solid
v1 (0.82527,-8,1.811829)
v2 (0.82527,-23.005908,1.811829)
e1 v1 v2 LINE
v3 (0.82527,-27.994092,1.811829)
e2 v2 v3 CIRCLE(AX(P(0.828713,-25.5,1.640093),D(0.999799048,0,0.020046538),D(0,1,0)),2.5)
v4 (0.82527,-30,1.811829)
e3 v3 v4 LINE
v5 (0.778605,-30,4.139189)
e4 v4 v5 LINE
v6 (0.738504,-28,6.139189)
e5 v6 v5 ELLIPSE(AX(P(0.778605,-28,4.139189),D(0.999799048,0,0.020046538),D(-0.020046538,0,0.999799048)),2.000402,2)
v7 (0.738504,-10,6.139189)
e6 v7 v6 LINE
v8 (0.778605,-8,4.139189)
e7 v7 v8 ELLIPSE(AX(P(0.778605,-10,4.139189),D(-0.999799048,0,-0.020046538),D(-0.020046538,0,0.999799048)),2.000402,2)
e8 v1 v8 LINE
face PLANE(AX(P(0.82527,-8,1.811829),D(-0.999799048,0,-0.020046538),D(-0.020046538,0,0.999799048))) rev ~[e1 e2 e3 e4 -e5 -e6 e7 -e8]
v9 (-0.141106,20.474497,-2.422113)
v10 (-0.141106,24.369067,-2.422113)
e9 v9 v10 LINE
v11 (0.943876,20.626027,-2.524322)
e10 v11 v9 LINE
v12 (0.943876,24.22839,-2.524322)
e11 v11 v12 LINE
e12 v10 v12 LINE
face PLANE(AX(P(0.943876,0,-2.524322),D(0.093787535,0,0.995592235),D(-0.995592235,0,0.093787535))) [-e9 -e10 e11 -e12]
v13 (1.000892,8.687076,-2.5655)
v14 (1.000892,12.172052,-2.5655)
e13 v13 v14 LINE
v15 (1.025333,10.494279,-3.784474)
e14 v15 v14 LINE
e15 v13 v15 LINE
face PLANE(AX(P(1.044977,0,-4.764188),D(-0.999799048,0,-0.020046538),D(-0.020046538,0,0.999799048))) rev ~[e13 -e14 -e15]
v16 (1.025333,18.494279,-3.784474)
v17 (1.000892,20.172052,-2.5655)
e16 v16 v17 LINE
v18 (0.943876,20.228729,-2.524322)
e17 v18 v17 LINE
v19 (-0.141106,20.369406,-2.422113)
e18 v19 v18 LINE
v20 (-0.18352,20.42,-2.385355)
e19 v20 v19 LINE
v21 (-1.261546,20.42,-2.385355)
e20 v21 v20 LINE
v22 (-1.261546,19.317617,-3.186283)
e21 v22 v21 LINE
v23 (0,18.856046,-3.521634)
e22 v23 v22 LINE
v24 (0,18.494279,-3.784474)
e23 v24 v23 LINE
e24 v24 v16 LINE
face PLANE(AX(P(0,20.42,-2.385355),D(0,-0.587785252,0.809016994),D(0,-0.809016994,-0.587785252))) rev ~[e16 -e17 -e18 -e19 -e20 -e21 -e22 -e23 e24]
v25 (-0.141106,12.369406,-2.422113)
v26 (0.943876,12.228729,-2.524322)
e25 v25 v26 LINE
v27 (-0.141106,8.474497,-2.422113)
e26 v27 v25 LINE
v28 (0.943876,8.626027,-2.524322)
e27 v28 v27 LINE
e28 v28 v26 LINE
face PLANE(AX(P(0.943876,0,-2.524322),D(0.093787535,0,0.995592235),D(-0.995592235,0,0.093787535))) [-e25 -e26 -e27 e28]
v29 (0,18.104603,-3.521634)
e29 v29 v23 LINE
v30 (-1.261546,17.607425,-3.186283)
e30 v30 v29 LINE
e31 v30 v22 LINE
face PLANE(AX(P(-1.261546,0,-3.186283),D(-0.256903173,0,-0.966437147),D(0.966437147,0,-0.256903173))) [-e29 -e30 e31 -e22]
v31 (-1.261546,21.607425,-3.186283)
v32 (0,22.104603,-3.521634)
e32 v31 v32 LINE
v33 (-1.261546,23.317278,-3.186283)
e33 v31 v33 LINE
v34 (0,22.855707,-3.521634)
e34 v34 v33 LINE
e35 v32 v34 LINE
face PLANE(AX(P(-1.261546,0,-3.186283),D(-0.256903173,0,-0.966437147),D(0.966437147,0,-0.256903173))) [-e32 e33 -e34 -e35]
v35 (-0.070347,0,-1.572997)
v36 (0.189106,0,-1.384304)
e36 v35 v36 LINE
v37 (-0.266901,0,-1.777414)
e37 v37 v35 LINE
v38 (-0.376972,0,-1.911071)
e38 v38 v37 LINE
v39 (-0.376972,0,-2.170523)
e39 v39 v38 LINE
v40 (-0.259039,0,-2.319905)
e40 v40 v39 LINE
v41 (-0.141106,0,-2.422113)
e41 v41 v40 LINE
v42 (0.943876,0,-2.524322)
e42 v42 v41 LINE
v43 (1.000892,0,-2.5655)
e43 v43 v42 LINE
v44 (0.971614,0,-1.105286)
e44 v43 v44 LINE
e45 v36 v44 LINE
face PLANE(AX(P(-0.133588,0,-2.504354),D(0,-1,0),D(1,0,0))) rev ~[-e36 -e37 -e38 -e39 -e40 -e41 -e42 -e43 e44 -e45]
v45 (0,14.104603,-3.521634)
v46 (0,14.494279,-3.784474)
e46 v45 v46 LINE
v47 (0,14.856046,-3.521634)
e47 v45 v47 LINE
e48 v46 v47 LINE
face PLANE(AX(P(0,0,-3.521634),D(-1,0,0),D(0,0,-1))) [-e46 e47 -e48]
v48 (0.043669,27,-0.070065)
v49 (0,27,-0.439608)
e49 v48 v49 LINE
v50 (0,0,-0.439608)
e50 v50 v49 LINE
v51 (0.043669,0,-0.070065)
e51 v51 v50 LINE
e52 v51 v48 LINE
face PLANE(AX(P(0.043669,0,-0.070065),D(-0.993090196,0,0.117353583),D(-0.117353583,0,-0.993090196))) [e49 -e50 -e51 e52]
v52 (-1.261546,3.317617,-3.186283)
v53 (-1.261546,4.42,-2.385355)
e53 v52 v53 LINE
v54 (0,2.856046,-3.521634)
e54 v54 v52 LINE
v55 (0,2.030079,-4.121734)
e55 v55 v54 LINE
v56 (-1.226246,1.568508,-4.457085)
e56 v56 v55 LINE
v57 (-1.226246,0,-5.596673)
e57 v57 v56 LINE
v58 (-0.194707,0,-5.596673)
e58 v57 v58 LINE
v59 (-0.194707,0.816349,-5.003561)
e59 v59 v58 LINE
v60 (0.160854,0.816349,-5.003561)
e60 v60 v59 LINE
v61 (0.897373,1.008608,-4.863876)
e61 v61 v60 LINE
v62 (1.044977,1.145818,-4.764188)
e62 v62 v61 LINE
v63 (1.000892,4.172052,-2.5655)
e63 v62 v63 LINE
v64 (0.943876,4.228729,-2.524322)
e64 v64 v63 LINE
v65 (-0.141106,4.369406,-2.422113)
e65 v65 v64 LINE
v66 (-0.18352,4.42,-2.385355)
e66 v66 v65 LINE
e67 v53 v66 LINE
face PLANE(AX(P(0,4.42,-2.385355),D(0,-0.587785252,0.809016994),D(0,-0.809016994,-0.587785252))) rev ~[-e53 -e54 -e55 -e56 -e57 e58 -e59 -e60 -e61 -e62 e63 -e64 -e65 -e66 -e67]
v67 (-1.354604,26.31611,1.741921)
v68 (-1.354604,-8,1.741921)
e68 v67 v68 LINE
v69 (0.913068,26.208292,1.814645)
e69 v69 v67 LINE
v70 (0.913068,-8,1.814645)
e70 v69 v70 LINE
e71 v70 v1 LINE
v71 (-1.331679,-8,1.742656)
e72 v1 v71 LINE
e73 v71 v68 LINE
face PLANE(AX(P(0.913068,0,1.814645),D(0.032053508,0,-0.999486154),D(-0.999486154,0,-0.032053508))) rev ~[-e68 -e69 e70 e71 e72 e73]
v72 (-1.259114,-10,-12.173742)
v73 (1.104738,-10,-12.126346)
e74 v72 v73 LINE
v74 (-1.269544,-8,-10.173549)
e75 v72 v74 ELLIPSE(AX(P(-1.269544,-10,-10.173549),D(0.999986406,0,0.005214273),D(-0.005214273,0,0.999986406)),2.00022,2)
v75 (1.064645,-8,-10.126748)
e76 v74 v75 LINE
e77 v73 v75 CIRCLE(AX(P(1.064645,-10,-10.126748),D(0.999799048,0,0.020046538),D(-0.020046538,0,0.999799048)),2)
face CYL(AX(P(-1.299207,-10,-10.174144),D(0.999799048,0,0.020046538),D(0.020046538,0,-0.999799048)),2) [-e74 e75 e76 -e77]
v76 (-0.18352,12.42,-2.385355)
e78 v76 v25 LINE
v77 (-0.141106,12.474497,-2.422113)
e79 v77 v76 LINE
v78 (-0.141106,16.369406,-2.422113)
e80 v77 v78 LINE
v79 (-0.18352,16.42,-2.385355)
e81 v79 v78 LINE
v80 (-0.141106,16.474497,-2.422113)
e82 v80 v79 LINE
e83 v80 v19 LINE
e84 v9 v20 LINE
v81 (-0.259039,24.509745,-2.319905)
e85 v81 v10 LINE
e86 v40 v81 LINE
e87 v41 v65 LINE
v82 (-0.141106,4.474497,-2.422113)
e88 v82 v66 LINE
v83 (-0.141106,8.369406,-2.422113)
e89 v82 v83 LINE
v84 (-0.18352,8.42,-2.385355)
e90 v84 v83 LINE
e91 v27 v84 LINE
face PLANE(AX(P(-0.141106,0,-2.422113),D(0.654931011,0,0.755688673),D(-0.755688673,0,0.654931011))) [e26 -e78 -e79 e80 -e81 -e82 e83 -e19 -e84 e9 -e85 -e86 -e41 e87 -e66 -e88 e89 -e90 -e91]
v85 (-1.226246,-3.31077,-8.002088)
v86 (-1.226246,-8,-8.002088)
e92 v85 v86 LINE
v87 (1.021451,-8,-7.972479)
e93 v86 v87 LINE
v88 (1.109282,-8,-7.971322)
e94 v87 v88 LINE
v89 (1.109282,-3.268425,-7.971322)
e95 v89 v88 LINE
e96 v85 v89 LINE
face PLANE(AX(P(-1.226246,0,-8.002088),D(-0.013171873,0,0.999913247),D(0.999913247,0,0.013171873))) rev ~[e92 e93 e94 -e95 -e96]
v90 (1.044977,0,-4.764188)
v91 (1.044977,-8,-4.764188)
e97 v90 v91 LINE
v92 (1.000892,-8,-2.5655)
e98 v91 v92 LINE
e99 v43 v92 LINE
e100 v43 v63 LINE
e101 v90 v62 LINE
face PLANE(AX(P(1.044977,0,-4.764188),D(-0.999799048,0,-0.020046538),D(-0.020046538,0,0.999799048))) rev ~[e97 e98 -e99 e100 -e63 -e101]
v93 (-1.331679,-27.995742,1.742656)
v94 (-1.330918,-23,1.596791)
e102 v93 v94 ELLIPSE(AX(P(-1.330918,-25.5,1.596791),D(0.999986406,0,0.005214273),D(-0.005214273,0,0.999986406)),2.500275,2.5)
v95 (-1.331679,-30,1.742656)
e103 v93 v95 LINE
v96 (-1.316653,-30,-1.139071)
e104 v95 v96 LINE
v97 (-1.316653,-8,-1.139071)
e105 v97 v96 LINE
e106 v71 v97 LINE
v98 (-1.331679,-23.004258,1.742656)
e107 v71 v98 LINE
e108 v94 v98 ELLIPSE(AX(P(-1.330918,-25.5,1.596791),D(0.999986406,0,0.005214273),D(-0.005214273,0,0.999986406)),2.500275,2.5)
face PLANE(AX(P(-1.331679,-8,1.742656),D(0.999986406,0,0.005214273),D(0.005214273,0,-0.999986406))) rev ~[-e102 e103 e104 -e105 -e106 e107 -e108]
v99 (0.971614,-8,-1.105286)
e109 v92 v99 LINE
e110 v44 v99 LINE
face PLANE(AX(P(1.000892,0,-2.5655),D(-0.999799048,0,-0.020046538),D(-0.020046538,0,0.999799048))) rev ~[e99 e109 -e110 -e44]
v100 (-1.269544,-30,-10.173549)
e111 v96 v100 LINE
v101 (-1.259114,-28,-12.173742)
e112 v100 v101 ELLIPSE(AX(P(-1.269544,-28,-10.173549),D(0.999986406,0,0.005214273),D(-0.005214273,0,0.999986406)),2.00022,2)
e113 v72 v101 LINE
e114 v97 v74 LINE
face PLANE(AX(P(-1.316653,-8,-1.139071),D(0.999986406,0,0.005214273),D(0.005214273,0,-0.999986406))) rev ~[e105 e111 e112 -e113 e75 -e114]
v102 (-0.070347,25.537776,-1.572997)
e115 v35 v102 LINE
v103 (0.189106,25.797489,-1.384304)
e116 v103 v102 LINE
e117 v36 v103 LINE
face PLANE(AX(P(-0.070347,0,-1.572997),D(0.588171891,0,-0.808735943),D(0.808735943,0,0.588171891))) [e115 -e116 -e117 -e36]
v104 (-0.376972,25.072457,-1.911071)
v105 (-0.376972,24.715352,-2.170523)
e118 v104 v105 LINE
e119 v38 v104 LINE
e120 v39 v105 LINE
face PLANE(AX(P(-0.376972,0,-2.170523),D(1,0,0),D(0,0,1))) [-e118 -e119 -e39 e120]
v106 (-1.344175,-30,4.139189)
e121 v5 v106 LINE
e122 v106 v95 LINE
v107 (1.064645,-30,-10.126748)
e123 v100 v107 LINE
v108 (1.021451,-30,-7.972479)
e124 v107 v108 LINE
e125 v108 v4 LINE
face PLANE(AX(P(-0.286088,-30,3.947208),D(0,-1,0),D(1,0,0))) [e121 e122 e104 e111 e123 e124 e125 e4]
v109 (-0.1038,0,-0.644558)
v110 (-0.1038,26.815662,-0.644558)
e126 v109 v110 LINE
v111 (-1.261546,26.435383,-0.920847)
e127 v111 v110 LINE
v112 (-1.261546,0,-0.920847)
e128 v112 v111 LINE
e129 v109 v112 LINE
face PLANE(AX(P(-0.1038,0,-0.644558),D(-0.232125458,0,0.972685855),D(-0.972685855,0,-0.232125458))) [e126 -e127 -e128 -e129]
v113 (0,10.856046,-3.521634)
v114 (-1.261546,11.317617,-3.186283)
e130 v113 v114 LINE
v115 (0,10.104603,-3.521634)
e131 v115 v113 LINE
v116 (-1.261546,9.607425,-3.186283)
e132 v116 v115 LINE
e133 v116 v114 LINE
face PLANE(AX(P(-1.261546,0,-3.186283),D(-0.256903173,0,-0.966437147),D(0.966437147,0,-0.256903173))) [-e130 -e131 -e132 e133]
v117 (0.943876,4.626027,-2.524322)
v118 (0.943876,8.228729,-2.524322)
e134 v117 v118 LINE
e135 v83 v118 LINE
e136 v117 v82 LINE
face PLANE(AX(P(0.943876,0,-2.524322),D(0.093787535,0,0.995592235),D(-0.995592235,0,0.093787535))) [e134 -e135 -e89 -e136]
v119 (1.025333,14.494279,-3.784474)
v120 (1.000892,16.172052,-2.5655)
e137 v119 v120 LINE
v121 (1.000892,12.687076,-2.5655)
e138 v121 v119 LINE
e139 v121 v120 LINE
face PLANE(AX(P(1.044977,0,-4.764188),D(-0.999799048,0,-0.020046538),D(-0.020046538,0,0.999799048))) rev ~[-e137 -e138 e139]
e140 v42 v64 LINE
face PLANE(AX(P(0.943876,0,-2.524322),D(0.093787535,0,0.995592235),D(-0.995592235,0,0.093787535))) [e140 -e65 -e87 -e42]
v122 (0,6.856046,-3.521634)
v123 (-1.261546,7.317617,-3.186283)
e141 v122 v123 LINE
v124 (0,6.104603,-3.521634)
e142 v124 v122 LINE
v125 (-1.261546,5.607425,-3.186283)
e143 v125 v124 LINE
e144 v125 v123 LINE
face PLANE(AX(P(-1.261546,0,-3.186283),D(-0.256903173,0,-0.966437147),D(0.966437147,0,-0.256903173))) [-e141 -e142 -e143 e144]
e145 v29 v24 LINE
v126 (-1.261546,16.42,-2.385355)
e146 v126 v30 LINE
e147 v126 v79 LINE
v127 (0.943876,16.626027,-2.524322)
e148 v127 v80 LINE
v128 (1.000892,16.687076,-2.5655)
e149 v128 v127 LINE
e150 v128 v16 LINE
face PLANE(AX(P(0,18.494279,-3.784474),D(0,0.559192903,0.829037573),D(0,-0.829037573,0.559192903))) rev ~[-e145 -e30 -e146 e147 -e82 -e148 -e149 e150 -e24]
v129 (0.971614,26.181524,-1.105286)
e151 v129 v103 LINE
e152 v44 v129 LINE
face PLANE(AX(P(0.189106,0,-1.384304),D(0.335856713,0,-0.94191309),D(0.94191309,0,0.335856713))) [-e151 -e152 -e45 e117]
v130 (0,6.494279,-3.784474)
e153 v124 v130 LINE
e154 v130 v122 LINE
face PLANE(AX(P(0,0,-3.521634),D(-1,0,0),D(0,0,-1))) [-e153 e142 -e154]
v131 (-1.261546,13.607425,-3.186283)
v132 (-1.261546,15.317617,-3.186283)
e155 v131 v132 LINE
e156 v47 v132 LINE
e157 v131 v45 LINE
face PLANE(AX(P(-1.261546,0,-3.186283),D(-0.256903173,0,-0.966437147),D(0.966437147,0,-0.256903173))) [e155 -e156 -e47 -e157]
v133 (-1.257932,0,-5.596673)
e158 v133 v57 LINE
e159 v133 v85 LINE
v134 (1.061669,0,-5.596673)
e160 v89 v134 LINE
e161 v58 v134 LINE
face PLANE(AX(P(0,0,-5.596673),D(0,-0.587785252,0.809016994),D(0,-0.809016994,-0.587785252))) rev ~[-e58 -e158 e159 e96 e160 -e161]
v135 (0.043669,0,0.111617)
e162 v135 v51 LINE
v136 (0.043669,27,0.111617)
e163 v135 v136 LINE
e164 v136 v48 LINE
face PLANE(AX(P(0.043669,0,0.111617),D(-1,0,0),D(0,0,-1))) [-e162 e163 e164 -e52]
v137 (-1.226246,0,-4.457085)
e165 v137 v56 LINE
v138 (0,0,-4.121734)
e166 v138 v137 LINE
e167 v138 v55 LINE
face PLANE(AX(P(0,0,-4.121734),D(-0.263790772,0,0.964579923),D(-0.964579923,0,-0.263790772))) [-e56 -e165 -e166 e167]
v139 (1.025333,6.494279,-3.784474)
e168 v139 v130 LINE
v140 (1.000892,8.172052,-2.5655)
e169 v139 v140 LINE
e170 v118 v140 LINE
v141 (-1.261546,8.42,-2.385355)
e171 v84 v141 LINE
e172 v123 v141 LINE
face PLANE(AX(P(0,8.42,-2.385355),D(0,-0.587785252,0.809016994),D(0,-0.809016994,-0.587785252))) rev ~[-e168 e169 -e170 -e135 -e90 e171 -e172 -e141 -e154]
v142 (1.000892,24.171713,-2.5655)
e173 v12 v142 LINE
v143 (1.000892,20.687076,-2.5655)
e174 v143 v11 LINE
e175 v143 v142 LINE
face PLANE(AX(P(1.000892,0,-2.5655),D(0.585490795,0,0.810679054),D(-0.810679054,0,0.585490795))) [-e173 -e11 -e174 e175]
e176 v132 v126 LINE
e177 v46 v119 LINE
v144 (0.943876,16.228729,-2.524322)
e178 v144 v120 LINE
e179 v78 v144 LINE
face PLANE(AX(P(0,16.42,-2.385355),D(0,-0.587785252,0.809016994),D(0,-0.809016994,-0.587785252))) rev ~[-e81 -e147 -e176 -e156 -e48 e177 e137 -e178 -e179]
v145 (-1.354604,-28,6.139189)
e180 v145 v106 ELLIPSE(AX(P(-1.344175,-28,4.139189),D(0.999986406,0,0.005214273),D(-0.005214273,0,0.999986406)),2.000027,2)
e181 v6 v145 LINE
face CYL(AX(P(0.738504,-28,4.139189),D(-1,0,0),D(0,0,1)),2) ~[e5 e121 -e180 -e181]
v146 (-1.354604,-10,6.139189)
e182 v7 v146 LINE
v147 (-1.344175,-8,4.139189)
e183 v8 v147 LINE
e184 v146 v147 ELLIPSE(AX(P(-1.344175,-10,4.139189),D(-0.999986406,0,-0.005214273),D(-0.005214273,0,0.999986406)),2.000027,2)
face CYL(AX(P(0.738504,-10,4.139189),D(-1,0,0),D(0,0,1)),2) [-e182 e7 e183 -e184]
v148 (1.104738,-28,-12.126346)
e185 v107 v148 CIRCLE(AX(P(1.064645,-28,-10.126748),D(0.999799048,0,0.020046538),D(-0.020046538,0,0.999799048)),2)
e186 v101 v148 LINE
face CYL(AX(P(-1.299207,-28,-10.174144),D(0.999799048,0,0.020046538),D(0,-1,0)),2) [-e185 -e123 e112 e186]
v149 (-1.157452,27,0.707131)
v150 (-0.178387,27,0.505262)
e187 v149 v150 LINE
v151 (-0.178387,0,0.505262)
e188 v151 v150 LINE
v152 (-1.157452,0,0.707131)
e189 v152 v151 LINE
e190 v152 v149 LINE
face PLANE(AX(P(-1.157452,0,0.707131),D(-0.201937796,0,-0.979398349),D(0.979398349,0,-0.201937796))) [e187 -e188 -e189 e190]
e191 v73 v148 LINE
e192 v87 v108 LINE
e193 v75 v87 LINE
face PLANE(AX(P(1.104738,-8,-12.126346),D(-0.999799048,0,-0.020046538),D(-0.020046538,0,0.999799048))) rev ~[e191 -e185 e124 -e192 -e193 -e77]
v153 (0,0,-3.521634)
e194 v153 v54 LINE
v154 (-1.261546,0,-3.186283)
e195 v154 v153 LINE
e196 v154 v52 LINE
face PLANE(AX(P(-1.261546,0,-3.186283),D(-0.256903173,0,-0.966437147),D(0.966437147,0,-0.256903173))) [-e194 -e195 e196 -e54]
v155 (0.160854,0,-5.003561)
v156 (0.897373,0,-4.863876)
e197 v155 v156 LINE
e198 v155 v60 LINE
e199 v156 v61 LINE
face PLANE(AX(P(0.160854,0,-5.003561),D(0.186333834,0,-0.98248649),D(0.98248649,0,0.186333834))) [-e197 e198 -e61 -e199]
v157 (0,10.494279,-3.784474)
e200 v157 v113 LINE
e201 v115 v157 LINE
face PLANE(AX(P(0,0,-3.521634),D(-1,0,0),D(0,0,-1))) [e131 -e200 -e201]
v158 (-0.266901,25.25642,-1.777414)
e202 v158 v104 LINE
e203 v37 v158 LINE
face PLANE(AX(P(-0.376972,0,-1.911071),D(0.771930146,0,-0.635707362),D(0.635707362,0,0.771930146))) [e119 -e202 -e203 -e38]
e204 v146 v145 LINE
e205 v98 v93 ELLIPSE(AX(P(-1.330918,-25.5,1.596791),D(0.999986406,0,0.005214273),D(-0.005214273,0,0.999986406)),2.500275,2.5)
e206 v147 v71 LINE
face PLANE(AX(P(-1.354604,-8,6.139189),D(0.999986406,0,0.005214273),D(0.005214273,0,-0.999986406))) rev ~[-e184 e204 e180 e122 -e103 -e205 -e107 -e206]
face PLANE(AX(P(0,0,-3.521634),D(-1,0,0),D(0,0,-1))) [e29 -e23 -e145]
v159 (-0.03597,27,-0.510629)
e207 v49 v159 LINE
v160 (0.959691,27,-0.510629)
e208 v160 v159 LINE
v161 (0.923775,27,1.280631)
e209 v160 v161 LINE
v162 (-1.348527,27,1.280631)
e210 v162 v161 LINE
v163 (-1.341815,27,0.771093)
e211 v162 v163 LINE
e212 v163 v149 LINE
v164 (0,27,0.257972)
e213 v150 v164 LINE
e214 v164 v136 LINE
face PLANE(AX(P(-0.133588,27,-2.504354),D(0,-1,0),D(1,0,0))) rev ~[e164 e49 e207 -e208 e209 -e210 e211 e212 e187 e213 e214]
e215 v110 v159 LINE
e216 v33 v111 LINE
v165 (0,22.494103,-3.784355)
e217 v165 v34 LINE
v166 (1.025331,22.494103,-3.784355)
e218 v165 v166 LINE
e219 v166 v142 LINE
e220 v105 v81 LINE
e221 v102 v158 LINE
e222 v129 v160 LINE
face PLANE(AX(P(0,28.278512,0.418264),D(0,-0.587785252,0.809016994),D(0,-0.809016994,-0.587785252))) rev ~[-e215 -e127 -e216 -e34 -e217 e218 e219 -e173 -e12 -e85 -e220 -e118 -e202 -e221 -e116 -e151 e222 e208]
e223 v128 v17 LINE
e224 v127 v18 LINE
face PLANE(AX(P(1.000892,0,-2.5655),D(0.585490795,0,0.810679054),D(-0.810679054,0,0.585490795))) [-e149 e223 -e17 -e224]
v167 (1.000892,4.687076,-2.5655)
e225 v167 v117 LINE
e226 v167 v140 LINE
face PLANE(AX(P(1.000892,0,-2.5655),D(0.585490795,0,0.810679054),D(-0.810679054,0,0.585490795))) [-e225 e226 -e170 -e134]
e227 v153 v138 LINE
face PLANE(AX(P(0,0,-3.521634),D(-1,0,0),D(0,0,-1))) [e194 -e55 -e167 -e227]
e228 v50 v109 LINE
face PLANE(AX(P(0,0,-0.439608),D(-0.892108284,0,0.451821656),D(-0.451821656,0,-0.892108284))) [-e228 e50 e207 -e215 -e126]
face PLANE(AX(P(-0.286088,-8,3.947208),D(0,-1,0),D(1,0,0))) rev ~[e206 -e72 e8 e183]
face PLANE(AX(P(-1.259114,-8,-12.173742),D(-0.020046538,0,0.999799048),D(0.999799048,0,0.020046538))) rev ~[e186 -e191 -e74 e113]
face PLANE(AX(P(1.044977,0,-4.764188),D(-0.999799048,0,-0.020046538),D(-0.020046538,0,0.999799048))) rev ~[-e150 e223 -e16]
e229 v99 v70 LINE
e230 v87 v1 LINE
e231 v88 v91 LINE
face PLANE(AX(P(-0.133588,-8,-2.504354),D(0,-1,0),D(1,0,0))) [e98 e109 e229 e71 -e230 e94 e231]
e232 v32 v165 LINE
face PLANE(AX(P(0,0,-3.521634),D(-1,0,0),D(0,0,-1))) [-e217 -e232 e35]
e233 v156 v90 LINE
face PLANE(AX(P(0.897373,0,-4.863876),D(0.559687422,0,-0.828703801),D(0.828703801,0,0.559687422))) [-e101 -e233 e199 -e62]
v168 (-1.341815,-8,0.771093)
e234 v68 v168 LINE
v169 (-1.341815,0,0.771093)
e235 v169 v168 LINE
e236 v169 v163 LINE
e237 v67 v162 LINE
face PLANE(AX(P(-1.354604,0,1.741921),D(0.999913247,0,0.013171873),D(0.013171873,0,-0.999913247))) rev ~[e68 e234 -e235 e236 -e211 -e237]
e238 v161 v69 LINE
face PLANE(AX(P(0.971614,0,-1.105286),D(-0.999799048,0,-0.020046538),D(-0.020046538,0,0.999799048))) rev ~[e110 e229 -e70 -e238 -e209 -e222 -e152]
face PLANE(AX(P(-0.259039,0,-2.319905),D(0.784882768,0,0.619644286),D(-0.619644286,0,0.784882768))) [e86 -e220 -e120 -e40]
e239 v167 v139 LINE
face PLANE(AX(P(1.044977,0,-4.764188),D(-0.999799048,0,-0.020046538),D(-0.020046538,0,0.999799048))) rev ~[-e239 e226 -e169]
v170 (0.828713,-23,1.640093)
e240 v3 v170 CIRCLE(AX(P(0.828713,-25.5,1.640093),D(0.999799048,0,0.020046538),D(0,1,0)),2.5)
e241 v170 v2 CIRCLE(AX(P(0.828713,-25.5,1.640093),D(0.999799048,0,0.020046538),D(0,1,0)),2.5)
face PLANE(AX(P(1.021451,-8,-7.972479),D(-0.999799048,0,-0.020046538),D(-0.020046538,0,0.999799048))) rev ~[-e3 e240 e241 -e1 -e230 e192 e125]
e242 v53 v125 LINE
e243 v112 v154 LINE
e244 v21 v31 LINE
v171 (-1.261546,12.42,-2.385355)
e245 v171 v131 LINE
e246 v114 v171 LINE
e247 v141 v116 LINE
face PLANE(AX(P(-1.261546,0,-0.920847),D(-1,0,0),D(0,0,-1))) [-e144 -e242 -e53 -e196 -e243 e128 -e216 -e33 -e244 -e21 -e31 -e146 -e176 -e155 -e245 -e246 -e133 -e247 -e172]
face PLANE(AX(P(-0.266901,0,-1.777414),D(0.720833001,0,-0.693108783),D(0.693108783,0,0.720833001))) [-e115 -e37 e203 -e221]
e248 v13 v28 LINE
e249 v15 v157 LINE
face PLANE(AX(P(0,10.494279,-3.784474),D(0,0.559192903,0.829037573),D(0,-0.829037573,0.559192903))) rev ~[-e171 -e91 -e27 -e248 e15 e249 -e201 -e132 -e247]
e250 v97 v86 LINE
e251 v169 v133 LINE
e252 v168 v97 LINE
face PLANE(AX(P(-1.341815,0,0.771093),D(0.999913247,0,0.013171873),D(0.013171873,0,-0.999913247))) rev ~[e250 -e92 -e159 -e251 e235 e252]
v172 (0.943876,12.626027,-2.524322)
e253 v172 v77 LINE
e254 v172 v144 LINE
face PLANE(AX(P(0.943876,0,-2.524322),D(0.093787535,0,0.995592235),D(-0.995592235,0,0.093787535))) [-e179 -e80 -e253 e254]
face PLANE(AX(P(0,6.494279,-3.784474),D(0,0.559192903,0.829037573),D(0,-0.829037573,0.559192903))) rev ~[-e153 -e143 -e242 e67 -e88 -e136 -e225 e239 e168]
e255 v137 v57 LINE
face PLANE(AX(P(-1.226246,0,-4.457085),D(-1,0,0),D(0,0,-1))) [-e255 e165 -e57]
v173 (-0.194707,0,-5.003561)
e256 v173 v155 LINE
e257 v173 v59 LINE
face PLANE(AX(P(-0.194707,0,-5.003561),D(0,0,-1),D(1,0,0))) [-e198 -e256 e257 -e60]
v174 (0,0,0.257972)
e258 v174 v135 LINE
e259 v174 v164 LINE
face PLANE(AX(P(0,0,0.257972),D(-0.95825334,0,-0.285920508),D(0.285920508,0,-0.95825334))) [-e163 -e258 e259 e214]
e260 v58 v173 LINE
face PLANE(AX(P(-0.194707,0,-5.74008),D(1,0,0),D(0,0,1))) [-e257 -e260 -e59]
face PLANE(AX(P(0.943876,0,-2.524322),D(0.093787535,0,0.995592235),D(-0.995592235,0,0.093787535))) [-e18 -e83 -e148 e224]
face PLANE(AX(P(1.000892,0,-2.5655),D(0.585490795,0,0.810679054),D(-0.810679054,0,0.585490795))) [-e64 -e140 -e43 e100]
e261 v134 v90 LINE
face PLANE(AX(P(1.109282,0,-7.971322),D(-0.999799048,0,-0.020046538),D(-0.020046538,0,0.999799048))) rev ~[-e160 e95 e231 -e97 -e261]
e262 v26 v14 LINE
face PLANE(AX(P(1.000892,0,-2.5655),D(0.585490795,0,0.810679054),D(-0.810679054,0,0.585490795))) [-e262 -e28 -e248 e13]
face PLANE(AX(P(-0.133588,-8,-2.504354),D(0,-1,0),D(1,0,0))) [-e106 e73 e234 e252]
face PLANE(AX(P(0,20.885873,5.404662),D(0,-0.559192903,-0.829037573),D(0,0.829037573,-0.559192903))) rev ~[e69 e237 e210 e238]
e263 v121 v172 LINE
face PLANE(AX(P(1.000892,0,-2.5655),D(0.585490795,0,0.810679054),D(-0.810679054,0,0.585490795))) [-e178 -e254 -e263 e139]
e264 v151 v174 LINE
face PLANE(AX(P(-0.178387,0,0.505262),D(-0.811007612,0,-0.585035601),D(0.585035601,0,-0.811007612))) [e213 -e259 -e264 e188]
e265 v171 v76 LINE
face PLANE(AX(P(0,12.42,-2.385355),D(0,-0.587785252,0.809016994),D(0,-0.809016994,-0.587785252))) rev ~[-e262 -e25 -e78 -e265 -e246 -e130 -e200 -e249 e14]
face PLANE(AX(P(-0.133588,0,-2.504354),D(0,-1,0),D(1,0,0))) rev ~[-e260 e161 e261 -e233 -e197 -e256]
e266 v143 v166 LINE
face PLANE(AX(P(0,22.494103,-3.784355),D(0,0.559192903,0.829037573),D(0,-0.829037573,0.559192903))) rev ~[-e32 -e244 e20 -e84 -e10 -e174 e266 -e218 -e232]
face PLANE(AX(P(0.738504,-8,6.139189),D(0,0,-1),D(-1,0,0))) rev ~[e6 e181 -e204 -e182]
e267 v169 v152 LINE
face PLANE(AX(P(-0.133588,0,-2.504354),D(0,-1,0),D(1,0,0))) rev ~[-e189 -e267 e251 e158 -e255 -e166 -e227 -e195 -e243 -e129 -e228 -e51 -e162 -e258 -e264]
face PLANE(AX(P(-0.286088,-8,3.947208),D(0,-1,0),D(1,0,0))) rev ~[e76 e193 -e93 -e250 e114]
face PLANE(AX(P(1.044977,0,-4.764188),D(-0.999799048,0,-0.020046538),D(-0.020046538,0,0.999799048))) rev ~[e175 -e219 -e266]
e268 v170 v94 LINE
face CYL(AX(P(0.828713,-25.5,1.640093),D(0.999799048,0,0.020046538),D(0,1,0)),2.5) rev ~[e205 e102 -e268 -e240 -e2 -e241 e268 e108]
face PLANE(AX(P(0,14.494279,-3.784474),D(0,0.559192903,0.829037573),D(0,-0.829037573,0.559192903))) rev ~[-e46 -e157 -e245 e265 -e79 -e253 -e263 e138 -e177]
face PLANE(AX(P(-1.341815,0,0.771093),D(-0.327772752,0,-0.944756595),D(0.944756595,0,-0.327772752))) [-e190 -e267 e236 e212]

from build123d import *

# Parameters (mm, degrees)
F1_DEPTH  = 27
F2_DEPTH  = 8
F4_DEPTH  = 22
F6_R      = 2
F8_DEPTH  = 20
F9_DEPTH  = 12.5
F5_R      = 2.5
F10_DEPTH = 2.4607981127
F11_DEPTH = 12.5


with BuildPart() as f1:
    # F0 (on Front) → F1 (new body)
    with BuildSketch(Plane.XZ):
        Polygon((-0.7496952344, -6.6809873255), (0.8741063205, -6.6809873255), (0.9227698261, -6.0829417354), (0, -5.9686545786), (-0.1947072298, -5.7400796882), (-0.1947072298, -5.5496009013), (-0.1947072298, -5.0035609814), (0.1608536688, -5.0035609814), (0.8973725199, -4.86387623), (1.0449768405, -4.7641876783), (1.0008919092, -2.5655001409), (0.9438757817, -2.5243218008), (-0.1411063758, -2.4221134883), (-0.2590392278, -2.3199048873), (-0.3769720528, -2.1705233078), (-0.3769720528, -1.9110710604), (-0.266901421, -1.7774139032), (-0.0703466601, -1.5729969897), (0.1891055828, -1.3843043544), (0.9716137966, -1.1052864284), (0.9130675168, 1.8146449861), (-1.3546038697, 1.7419207949), (-1.3418151463, 0.7710934816), (-1.1574519325, 0.707130723), (-0.1783869789, 0.5052616682), (0, 0.2579721058), (0.0436689517, 0.1116170257), (0.0436689517, -0.0700651218), (0, -0.439608231), (-0.1037999714, -0.6445581556), (-1.2615459958, -0.9208470772), (-1.2615459958, -3.1862834304), (0, -3.5216339192), (0, -4.1217343841), (-1.2262458836, -4.457084873), (-1.2262458836, -6.5044873415), align=None)
    extrude(amount=-F1_DEPTH)

    # F0 (on Front) → F2 (join)
    with BuildSketch(Plane.XZ):
        Polygon((-0.7496952344, -6.6809873255), (0.8741063205, -6.6809873255), (0.9227698261, -6.0829417354), (0, -5.9686545786), (-0.1947072298, -5.7400796882), (-0.1947072298, -5.5496009013), (-0.1947072298, -5.0035609814), (0.1608536688, -5.0035609814), (0.8973725199, -4.86387623), (1.0449768405, -4.7641876783), (1.0008919092, -2.5655001409), (0.9438757817, -2.5243218008), (-0.1411063758, -2.4221134883), (-0.2590392278, -2.3199048873), (-0.3769720528, -2.1705233078), (-0.3769720528, -1.9110710604), (-0.266901421, -1.7774139032), (-0.0703466601, -1.5729969897), (0.1891055828, -1.3843043544), (0.9716137966, -1.1052864284), (0.9130675168, 1.8146449861), (-1.3546038697, 1.7419207949), (-1.3418151463, 0.7710934816), (-1.1574519325, 0.707130723), (-0.1783869789, 0.5052616682), (0, 0.2579721058), (0.0436689517, 0.1116170257), (0.0436689517, -0.0700651218), (0, -0.439608231), (-0.1037999714, -0.6445581556), (-1.2615459958, -0.9208470772), (-1.2615459958, -3.1862834304), (0, -3.5216339192), (0, -4.1217343841), (-1.2262458836, -4.457084873), (-1.2262458836, -6.5044873415), align=None)
        Polygon((0.9227698261, -6.0829417354), (0.8741063205, -6.6809873255), (-0.7496952344, -6.6809873255), (-1.2262458836, -6.5044873415), (-1.2262458836, -4.457084873), (0, -4.1217343841), (0, -3.5216339192), (-1.2615459958, -3.1862834304), (-1.2615459958, -0.9208470772), (-0.1037999714, -0.6445581556), (0, -0.439608231), (0.0436689517, -0.0700651218), (0.0436689517, 0.1116170257), (0, 0.2579721058), (-0.1783869789, 0.5052616682), (-1.1574519325, 0.707130723), (-1.3418151463, 0.7710934816), (-1.2262458836, -8.0020884052), (1.1092817108, -7.9713224635), (1.0449768405, -4.7641876783), (0.8973725199, -4.86387623), (0.1608536688, -5.0035609814), (-0.1947072298, -5.0035609814), (-0.1947072298, -5.5496009013), (-0.1947072298, -5.7400796882), (0, -5.9686545786), align=None)
        Polygon((0.9438757817, -2.5243218008), (1.0008919092, -2.5655001409), (0.9716137966, -1.1052864284), (0.1891055828, -1.3843043544), (-0.0703466601, -1.5729969897), (-0.266901421, -1.7774139032), (-0.3769720528, -1.9110710604), (-0.3769720528, -2.1705233078), (-0.2590392278, -2.3199048873), (-0.1411063758, -2.4221134883), align=None)
    extrude(amount=F2_DEPTH)

    # F3 (on face) → F4 (join)
    with BuildSketch(Plane.XZ.offset(8)):
        Polygon((0.7385039935, 6.1391890049), (-1.3546038697, 6.1391890049), (-1.3316788356, 1.7426560004), (0.8252700079, 1.8118293212), align=None)
        Polygon((0.8252700079, 1.8118293212), (-1.3316788356, 1.7426560004), (-1.3166525213, -1.1390708706), (-1.2262458836, -8.0020884052), (1.0214509446, -7.9724794596), align=None)
        Polygon((-1.2262458836, -8.0020884052), (-1.3166525213, -1.1390708706), (-1.2591139525, -12.1737421996), (1.1047383155, -12.1263456218), (1.0214509446, -7.9724794596), align=None)
    extrude(amount=F4_DEPTH)

    # F6
    f6_edges = [f1.edges().sort_by_distance(p)[0] for p in [
        (-0.30805, -30, 6.139189),
        (-0.077188, -30, -12.150044),
        (-0.30805, -8, 6.139189),
        (-0.077188, -8, -12.150044),
    ]]
    fillet(f6_edges, radius=F6_R)

    # F7 (on Right) → F8 (cut, symmetric)
    with BuildSketch(Plane.YZ):
        Polygon((6.4942785373, -3.7844735536), (4.42, -2.3853550139), (0, -5.5966729877), (-11.7603398875, -14.1410600597), (31.9972857833, -14.0815703198), (31.4160363876, 5.4046616789), (20.8858734821, 5.4046616789), (28.2785118313, 0.4182641504), (22.4941027949, -3.7843550139), (20.42, -2.3853550139), (18.4942785373, -3.7844735536), (16.42, -2.3853550139), (14.4942785373, -3.7844735536), (12.42, -2.3853550139), (10.4942785373, -3.7844735536), (8.42, -2.3853550139), align=None)
    extrude(amount=F8_DEPTH, both=True, mode=Mode.SUBTRACT)

    # F7 (on Right) → F9 (cut, symmetric)
    with BuildSketch(Plane.YZ):
        Polygon((6.4942785373, -3.7844735536), (4.42, -2.3853550139), (0, -5.5966729877), (-11.7603398875, -14.1410600597), (31.9972857833, -14.0815703198), (31.4160363876, 5.4046616789), (20.8858734821, 5.4046616789), (28.2785118313, 0.4182641504), (22.4941027949, -3.7843550139), (20.42, -2.3853550139), (18.4942785373, -3.7844735536), (16.42, -2.3853550139), (14.4942785373, -3.7844735536), (12.42, -2.3853550139), (10.4942785373, -3.7844735536), (8.42, -2.3853550139), align=None)
    extrude(amount=F9_DEPTH, both=True, mode=Mode.SUBTRACT)

    # F5 (on face) → F10 (cut, through all)
    with BuildSketch(Plane(origin=(0.8612519677, 0, 0.0172685901), x_dir=(0, 1, 0), z_dir=(0.999799048, 0, 0.0200465376))):
        with Locations((-25.5, 1.6231508744)):
            Circle(F5_R)
    extrude(amount=-F10_DEPTH, mode=Mode.SUBTRACT)

    # F7 (on Right) → F11 (cut, symmetric)
    with BuildSketch(Plane.YZ):
        Polygon((6.4942785373, -3.7844735536), (4.42, -2.3853550139), (0, -5.5966729877), (-11.7603398875, -14.1410600597), (31.9972857833, -14.0815703198), (31.4160363876, 5.4046616789), (20.8858734821, 5.4046616789), (28.2785118313, 0.4182641504), (22.4941027949, -3.7843550139), (20.42, -2.3853550139), (18.4942785373, -3.7844735536), (16.42, -2.3853550139), (14.4942785373, -3.7844735536), (12.42, -2.3853550139), (10.4942785373, -3.7844735536), (8.42, -2.3853550139), align=None)
    extrude(amount=F11_DEPTH, both=True, mode=Mode.SUBTRACT)


solid = f1.part
